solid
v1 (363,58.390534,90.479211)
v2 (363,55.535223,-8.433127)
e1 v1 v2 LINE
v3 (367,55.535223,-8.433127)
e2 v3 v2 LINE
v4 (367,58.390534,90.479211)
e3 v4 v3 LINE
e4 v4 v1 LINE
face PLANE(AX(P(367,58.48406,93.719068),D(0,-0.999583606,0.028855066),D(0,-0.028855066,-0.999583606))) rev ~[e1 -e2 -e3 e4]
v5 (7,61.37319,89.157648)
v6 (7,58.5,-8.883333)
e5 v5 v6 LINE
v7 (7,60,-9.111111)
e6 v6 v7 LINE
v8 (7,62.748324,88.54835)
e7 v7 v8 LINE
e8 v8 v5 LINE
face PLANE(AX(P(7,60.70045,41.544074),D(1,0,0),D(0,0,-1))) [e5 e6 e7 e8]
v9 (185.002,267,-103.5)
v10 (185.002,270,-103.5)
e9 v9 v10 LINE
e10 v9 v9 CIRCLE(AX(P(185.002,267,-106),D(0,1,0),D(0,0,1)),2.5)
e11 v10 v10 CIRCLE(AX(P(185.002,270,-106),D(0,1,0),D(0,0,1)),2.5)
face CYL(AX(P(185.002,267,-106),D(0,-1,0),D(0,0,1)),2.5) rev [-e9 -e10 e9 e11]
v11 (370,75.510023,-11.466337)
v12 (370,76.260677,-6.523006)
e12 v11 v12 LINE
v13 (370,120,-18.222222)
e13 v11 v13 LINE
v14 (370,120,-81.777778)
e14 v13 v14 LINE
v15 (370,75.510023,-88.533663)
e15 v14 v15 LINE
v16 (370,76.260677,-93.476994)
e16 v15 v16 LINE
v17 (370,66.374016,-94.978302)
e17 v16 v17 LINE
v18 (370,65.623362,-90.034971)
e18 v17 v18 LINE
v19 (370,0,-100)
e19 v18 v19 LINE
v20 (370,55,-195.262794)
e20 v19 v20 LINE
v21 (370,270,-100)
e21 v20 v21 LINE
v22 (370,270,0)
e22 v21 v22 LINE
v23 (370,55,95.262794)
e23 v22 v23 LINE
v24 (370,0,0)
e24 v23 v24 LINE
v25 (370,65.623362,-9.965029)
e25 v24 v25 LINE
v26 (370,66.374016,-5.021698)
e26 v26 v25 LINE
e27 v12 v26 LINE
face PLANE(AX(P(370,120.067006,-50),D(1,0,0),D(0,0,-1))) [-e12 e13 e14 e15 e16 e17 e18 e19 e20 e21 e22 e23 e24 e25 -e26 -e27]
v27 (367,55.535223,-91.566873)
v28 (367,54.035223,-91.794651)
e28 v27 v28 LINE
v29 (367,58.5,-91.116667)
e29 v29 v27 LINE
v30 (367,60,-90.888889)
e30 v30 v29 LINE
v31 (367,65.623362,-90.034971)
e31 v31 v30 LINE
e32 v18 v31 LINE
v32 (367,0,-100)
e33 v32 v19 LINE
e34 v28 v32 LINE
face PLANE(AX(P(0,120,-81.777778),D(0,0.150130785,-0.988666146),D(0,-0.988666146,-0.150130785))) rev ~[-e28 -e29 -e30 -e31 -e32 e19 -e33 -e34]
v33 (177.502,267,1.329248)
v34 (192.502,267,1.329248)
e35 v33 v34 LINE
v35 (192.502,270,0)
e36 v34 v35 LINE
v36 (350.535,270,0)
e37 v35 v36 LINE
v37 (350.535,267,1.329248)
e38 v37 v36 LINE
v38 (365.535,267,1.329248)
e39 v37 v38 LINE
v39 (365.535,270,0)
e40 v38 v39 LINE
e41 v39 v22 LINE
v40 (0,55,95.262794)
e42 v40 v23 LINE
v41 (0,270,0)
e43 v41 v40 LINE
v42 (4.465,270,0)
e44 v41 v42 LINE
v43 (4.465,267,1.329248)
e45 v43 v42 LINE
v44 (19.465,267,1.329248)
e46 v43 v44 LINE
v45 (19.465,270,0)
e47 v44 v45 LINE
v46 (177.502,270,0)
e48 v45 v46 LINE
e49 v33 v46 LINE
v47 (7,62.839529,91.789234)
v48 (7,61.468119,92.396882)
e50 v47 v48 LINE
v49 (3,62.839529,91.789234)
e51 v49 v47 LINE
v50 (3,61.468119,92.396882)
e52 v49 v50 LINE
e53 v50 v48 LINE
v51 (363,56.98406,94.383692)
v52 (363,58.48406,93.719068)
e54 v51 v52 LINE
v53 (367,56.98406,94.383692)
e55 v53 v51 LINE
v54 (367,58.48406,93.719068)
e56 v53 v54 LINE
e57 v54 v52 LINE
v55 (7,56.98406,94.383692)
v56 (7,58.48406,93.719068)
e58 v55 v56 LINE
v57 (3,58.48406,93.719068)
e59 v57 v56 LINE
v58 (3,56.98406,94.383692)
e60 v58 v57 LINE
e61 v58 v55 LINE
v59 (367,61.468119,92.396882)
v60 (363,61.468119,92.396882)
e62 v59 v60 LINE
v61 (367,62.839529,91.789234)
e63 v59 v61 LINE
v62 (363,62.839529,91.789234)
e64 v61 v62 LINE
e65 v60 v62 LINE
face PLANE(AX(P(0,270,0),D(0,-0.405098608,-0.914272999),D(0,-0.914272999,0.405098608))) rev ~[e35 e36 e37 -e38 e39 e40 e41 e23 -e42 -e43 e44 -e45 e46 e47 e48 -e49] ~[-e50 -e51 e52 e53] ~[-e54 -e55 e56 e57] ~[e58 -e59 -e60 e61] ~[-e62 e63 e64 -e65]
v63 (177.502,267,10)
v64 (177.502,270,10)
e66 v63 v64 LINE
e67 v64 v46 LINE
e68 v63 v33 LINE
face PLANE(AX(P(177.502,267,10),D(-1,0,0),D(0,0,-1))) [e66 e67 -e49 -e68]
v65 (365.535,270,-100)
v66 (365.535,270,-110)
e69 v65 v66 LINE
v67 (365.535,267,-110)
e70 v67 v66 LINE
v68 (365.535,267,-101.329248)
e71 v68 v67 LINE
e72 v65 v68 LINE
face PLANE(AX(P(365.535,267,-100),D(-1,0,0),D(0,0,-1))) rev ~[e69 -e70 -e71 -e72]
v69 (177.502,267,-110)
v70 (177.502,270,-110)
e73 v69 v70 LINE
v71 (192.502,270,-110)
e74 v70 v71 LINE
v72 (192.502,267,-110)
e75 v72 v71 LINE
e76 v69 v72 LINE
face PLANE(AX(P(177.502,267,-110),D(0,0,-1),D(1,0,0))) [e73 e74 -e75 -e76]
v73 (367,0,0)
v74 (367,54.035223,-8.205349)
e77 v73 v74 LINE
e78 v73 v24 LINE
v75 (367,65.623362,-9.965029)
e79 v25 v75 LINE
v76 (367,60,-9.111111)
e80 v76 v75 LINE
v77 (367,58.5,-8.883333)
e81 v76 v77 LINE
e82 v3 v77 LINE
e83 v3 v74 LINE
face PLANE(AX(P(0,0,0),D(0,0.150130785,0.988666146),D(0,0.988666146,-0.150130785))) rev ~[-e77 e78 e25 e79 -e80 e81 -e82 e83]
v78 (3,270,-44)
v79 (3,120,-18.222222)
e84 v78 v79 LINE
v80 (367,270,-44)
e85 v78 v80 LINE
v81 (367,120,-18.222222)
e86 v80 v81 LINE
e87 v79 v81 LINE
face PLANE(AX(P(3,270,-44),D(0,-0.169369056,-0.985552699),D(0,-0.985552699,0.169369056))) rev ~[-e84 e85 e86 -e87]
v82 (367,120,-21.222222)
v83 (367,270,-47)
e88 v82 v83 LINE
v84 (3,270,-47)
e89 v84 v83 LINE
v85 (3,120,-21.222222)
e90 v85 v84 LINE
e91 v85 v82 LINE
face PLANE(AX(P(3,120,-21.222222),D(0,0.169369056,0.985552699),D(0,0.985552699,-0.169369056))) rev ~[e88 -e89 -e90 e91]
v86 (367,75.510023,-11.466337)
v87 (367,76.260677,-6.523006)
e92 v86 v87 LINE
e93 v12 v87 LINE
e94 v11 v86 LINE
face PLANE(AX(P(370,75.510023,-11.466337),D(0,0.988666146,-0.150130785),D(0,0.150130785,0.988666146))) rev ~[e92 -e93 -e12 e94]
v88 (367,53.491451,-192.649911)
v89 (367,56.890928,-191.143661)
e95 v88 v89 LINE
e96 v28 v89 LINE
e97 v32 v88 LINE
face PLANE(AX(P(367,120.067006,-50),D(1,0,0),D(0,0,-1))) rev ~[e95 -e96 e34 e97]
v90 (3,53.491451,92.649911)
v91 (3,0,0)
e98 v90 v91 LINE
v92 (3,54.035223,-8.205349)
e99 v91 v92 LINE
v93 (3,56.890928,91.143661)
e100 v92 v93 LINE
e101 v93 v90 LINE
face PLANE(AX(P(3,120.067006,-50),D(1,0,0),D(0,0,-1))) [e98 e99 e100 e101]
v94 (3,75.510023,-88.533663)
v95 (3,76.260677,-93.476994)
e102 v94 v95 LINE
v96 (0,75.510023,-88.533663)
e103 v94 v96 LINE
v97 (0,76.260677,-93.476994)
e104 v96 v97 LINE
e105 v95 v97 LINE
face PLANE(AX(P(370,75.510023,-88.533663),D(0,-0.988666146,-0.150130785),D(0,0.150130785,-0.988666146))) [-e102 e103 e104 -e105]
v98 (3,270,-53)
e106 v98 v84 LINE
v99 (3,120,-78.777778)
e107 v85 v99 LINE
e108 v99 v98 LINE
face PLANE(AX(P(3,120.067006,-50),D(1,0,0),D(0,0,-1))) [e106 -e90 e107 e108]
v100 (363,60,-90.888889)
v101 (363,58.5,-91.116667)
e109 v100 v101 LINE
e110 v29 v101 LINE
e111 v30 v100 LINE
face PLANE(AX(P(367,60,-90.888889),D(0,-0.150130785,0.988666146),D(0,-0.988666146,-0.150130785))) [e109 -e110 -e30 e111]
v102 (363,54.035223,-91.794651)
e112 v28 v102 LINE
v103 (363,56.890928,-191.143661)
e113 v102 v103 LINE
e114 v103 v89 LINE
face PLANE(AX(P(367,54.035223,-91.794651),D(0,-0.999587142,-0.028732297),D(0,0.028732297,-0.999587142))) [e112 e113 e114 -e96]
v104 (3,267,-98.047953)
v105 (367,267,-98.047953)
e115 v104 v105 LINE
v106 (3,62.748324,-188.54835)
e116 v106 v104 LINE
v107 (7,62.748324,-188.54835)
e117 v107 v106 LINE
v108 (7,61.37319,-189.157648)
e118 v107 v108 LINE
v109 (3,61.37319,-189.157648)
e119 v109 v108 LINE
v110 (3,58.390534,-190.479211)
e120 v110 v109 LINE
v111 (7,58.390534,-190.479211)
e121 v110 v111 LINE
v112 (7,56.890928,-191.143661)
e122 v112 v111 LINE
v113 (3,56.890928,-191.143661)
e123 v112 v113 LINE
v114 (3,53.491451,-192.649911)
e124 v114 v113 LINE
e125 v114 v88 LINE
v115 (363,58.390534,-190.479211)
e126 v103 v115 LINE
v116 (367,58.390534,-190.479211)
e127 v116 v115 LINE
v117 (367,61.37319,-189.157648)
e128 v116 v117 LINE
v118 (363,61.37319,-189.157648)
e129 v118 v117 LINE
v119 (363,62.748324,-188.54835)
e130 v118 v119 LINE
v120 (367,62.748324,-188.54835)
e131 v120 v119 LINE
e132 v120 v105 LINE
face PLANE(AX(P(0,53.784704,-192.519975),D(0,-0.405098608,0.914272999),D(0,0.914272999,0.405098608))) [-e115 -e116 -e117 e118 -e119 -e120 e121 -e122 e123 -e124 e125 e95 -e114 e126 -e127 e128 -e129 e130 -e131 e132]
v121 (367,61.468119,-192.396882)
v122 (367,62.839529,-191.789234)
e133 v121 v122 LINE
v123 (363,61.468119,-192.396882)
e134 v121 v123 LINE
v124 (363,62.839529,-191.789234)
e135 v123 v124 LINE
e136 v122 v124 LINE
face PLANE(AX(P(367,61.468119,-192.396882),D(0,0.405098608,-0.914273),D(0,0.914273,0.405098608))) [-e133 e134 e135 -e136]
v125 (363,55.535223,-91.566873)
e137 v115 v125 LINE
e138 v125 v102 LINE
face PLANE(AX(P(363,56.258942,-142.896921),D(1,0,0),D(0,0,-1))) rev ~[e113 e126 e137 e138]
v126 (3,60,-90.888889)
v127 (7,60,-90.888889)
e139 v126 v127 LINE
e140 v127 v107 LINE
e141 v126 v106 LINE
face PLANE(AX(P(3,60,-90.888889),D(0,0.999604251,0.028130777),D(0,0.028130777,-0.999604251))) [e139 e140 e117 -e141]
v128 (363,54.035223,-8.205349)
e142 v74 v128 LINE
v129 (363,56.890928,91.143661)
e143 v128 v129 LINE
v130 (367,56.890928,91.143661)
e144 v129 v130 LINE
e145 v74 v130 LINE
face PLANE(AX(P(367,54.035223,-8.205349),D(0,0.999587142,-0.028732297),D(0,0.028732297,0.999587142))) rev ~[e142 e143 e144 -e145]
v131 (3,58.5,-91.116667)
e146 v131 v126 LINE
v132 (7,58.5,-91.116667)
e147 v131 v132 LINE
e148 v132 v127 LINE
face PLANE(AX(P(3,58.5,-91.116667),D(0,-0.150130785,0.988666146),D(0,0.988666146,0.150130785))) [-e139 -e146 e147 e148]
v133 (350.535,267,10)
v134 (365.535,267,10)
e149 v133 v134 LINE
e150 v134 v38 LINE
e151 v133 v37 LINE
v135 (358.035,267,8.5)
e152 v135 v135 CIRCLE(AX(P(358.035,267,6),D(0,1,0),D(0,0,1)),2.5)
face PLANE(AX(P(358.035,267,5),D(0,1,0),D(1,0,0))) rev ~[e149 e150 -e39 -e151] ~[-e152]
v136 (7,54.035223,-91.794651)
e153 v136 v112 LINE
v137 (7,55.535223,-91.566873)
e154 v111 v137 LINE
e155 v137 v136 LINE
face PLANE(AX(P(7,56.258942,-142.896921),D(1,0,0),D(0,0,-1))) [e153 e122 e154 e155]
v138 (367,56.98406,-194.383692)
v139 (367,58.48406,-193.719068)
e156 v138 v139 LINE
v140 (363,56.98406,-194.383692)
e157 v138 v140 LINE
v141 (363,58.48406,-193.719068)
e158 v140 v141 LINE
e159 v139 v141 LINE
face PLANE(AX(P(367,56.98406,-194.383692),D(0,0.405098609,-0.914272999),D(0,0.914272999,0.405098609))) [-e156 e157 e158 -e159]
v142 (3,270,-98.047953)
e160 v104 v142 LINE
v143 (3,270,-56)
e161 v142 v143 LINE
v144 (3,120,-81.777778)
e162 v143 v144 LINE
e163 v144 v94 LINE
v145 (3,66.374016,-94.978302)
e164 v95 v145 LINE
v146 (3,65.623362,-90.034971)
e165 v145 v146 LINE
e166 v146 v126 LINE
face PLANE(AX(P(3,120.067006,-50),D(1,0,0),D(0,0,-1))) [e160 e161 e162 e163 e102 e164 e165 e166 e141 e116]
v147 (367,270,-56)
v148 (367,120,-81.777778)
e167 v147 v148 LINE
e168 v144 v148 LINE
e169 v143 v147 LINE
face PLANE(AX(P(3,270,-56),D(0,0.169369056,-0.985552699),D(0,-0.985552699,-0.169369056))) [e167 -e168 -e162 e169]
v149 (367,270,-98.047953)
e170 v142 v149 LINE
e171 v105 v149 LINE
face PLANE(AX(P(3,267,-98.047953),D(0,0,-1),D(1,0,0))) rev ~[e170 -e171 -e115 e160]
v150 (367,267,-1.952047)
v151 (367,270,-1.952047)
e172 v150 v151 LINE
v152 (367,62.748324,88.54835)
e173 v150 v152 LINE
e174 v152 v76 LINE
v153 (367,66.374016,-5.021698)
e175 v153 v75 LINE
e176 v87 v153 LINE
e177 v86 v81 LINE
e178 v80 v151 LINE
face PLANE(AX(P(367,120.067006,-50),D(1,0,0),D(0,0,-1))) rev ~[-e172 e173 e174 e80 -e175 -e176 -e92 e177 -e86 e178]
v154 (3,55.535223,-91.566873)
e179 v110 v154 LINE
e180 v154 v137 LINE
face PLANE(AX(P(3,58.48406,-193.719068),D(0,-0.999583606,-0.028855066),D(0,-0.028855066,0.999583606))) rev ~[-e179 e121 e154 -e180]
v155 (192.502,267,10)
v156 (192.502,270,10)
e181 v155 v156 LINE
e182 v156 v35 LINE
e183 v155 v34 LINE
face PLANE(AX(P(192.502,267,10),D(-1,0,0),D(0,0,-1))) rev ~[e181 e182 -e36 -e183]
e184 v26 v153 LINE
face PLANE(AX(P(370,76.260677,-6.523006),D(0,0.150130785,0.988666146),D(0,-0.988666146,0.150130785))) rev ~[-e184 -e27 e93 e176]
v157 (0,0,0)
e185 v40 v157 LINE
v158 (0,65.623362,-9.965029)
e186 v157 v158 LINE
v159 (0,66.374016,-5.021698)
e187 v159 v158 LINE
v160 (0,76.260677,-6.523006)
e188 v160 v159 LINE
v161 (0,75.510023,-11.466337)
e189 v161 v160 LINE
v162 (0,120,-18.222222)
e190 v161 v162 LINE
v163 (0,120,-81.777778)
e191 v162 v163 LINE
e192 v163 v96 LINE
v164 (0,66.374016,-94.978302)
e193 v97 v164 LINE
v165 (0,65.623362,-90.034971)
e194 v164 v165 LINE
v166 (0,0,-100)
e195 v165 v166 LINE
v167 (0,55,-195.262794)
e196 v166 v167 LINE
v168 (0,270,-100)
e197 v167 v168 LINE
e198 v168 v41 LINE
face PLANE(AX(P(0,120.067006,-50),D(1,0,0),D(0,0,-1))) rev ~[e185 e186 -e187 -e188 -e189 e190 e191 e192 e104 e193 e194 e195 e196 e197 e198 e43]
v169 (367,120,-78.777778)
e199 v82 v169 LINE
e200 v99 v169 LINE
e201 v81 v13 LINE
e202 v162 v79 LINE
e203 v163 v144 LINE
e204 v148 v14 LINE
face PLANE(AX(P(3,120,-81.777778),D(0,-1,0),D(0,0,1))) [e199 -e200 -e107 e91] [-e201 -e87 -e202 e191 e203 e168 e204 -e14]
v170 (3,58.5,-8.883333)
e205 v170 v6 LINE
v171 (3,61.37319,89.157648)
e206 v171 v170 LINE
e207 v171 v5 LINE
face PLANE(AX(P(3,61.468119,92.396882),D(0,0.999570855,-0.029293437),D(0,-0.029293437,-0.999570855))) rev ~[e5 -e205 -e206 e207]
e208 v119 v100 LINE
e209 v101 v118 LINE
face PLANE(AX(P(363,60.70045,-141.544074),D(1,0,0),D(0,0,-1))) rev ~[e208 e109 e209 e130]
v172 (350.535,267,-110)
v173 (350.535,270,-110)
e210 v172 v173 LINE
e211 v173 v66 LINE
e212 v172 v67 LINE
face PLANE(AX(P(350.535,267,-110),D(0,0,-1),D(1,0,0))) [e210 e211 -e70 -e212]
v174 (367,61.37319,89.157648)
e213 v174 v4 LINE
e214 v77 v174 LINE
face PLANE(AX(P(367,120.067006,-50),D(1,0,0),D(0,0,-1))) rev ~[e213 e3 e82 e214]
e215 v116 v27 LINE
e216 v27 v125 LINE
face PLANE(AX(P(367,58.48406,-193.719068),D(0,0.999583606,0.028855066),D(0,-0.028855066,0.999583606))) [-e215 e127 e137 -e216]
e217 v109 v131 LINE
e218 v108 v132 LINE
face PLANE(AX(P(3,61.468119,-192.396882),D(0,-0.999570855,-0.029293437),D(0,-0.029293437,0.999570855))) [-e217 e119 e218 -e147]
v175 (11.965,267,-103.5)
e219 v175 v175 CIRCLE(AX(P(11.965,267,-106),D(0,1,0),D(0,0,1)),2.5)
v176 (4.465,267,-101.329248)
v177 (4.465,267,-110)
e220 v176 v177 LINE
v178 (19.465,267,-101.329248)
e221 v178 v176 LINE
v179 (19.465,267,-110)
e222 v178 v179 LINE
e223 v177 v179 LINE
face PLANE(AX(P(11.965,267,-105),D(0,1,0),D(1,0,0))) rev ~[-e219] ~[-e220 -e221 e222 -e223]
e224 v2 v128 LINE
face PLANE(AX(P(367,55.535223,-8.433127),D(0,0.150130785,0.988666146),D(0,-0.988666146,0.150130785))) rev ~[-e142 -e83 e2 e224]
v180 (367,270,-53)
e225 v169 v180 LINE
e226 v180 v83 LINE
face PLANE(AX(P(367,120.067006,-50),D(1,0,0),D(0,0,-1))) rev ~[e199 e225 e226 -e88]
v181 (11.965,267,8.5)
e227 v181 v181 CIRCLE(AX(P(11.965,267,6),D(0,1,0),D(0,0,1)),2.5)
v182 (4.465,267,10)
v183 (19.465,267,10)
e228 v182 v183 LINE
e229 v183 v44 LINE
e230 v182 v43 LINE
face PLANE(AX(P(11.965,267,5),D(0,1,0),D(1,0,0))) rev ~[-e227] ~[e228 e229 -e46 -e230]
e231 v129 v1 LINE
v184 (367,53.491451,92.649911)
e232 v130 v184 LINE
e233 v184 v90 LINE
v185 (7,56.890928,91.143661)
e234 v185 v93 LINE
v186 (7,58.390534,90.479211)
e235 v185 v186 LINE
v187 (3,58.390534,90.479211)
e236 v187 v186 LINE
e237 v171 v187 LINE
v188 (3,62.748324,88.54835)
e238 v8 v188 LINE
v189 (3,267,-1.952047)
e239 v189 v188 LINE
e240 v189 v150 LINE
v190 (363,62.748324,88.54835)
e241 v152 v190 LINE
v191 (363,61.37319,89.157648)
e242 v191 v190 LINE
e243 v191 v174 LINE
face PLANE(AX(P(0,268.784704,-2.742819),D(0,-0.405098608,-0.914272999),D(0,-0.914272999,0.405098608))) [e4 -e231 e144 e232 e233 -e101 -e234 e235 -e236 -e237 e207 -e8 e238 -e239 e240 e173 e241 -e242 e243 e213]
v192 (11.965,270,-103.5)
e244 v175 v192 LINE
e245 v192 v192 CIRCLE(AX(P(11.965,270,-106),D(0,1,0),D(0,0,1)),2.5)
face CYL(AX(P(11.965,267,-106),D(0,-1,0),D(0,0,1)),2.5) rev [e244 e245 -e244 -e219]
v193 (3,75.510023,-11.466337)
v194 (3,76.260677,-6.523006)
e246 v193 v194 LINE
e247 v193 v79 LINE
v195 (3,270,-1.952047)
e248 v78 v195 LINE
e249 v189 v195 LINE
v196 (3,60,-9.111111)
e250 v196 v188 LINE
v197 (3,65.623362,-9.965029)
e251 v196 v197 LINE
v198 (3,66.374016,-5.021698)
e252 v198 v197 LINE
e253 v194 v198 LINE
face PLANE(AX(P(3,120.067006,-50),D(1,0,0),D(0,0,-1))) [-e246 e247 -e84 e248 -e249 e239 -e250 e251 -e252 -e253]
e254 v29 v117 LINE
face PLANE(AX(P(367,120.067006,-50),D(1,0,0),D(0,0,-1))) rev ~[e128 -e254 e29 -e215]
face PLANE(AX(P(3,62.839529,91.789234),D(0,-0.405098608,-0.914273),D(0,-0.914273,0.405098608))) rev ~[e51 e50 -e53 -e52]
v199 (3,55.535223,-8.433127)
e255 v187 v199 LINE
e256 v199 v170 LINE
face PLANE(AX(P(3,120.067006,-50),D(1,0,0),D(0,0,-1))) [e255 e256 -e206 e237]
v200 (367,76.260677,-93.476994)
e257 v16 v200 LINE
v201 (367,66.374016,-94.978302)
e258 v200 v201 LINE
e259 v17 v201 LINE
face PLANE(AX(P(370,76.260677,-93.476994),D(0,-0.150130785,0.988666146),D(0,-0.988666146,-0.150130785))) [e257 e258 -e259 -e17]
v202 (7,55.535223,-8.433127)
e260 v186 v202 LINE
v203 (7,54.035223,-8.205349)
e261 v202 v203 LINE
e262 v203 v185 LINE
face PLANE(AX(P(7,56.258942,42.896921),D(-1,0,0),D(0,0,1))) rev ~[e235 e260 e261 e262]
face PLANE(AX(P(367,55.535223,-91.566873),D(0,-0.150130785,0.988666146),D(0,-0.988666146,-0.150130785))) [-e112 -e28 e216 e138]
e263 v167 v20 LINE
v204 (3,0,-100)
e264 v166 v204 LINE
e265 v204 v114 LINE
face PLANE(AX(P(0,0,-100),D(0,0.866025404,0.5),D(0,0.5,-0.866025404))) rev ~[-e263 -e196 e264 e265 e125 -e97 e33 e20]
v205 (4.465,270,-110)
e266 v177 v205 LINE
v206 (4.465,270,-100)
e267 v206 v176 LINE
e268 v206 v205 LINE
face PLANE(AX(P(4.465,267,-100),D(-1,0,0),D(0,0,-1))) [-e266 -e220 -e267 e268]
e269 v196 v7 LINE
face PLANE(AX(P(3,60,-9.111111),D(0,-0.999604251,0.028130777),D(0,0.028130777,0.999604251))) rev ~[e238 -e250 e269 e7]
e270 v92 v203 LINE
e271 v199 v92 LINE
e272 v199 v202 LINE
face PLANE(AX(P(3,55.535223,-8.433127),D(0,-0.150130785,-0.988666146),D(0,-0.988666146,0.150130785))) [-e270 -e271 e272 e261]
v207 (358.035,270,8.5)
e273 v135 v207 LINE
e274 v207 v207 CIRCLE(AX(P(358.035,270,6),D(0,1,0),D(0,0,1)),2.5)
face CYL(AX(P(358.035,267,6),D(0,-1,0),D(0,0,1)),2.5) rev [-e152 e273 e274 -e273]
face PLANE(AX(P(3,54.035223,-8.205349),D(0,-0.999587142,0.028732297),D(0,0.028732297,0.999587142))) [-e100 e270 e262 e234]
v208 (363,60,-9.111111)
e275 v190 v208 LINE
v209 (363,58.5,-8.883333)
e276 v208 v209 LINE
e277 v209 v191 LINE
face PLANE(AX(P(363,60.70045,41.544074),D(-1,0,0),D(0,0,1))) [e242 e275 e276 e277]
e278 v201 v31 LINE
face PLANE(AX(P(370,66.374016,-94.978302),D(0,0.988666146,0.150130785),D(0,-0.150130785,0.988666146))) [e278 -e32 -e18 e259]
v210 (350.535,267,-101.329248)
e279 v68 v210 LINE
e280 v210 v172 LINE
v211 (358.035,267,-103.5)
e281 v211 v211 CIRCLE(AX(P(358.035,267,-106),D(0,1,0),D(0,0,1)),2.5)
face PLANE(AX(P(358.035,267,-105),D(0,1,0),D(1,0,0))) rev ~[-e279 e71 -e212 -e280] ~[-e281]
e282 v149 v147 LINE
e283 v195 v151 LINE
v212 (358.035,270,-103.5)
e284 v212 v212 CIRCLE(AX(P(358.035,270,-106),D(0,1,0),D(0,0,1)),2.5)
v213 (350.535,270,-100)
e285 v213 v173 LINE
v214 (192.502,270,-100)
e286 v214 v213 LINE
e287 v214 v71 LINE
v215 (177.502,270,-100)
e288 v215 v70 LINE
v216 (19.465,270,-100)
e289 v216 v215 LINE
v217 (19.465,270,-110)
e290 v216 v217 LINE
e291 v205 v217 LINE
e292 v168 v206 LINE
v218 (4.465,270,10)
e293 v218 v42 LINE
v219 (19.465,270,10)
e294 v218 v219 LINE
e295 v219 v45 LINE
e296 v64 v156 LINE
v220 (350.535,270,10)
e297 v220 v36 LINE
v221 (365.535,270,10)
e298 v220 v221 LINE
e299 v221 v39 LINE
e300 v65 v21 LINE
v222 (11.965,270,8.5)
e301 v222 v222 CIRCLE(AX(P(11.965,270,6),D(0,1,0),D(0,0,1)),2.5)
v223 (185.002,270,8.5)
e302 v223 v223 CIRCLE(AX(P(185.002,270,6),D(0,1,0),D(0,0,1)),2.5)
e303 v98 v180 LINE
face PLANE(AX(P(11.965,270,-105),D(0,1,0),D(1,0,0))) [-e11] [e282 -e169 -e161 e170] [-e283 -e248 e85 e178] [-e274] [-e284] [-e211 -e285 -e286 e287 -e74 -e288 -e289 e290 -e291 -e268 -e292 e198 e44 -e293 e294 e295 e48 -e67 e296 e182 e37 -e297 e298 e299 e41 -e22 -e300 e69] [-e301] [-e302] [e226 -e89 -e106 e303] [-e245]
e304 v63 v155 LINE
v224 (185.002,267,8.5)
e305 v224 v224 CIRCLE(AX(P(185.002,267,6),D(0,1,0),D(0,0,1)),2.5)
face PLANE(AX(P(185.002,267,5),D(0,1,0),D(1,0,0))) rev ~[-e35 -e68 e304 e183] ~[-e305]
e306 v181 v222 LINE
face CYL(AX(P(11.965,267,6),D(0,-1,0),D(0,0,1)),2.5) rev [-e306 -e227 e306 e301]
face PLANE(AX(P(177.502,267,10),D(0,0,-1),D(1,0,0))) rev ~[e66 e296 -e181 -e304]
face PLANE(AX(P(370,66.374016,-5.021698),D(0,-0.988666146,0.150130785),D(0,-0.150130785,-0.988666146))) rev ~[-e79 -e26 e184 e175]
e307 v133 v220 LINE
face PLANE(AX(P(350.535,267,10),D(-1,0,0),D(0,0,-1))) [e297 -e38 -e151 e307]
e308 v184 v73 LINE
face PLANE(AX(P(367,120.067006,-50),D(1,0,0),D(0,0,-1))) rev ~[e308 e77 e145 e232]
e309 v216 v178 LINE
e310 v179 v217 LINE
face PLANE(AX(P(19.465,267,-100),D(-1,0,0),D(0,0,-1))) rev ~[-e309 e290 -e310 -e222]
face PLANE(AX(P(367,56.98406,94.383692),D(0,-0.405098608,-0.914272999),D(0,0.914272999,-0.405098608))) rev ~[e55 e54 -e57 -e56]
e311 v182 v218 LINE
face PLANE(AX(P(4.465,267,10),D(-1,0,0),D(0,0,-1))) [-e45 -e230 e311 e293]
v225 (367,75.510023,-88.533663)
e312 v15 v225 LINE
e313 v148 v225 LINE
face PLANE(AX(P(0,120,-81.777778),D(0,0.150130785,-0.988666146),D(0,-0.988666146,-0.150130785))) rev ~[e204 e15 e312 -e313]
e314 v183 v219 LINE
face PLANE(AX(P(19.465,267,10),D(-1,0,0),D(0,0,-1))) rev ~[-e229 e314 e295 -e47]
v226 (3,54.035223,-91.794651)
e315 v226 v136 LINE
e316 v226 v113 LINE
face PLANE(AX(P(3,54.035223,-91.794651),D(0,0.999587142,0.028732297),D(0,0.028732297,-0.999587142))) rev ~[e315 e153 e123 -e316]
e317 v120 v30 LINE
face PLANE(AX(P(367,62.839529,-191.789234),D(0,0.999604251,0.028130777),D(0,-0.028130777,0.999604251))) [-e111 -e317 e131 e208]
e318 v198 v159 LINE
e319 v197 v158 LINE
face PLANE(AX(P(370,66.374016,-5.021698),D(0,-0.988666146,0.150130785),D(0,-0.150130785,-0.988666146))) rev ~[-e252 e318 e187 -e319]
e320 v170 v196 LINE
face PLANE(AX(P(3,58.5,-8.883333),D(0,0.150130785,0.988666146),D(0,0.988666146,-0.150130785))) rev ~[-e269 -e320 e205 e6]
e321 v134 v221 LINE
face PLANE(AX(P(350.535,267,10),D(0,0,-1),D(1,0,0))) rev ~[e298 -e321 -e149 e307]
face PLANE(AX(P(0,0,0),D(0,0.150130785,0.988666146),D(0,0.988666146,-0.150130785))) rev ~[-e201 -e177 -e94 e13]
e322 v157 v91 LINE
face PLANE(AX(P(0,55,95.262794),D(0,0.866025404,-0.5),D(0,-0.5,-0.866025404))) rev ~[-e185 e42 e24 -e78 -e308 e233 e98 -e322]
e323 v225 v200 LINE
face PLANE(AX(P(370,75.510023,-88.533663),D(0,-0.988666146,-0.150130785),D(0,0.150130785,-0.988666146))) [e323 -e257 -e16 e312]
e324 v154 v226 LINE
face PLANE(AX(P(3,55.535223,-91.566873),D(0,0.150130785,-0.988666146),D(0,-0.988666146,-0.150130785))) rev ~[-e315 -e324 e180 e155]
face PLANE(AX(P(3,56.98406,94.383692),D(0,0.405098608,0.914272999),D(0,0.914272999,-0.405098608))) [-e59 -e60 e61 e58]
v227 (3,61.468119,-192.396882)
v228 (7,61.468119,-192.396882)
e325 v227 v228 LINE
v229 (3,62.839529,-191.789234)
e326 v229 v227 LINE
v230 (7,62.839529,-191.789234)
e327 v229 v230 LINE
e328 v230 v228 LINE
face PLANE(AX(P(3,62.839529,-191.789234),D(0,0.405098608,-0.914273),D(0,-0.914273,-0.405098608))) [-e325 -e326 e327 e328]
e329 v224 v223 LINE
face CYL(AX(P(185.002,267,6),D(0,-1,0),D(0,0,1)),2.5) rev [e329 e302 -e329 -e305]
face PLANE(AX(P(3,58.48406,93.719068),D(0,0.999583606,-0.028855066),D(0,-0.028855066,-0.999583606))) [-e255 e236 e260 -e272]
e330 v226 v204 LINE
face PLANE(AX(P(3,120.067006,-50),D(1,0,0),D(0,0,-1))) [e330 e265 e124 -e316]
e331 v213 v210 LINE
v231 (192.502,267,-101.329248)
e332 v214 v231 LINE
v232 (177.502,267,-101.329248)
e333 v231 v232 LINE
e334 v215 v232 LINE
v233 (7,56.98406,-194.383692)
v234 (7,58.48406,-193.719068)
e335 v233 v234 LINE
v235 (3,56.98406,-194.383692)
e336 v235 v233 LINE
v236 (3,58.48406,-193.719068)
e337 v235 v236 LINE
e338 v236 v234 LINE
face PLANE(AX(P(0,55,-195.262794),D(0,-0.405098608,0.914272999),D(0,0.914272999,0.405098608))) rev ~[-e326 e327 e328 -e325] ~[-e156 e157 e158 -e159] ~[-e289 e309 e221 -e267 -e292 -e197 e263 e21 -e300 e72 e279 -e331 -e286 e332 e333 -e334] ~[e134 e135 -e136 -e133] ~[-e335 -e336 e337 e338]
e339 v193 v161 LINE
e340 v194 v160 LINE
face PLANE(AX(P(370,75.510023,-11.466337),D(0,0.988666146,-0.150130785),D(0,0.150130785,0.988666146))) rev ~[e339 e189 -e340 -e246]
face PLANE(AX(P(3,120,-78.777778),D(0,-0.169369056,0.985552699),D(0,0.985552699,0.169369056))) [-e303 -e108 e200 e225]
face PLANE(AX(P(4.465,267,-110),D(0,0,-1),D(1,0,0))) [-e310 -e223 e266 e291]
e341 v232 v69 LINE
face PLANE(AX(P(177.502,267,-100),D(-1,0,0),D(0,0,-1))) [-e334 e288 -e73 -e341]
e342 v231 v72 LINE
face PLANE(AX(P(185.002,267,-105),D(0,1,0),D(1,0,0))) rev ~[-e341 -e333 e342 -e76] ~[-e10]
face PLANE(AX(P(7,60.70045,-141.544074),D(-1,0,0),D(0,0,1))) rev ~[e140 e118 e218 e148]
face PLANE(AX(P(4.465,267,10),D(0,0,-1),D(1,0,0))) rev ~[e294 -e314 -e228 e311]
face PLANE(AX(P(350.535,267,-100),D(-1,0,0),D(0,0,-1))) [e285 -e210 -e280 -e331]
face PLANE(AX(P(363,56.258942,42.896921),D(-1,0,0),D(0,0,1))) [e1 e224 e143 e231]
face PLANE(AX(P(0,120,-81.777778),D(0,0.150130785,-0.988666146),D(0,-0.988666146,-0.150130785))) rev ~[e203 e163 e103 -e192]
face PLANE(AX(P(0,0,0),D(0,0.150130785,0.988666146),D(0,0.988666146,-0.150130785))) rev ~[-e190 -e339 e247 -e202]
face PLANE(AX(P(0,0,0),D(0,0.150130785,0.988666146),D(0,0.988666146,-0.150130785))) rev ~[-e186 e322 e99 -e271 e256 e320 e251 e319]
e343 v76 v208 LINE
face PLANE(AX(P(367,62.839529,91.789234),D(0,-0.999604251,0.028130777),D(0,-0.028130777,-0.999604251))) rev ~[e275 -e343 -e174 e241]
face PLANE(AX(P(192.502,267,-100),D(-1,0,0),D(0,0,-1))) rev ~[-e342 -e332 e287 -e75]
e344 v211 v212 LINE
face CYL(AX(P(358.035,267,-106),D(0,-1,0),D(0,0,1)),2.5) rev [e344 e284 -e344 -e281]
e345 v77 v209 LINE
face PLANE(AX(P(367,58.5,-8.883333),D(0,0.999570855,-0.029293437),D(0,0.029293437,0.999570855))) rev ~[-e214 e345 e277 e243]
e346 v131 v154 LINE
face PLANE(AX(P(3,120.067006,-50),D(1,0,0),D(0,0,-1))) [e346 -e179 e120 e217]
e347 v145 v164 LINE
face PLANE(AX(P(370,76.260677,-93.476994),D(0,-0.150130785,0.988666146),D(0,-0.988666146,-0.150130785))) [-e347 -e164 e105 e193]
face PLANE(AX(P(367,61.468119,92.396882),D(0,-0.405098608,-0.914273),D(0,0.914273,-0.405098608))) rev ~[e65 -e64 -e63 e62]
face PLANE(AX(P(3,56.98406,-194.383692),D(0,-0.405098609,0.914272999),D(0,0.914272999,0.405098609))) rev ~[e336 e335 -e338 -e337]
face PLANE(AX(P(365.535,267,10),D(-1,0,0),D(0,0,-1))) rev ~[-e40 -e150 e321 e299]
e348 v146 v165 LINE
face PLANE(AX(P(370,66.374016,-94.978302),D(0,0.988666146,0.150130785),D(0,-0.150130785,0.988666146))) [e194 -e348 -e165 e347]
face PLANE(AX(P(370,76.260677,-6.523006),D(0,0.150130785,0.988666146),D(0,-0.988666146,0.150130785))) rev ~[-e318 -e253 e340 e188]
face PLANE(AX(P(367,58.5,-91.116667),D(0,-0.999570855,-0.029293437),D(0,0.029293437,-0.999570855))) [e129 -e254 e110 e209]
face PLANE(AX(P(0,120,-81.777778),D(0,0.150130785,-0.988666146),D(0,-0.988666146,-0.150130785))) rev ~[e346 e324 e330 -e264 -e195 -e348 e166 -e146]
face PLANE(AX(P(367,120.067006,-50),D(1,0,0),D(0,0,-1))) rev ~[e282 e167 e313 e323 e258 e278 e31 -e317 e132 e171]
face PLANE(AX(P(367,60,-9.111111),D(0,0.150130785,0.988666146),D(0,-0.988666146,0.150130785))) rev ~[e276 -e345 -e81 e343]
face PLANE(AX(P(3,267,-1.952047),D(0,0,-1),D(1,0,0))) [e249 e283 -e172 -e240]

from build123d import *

# Parameters (mm, degrees)
BOSS_EXTRUDE1_DEPTH = 370
SHELL1_T            = -3
SKETCH4_W           = 364
SKETCH4_H           = 96.095905324
CUT_EXTRUDE2_DEPTH  = 497.302890263
BOSS_EXTRUDE2_REACH = 497.698
SKETCH9_W           = 15
SKETCH9_H           = 10
SKETCH9_R           = 2.5
BOSS_EXTRUDE4_DEPTH = 3
BOSS_EXTRUDE5_DEPTH = 4
BOSS_EXTRUDE6_DEPTH = 4
CUT_EXTRUDE3_DEPTH  = 498.923245976


with BuildPart() as part:
    # Sketch2 → Boss-Extrude1 (new body)
    with BuildSketch(Plane(origin=(0, 0, 0), x_dir=(0, 0, -1), z_dir=(1, 0, 0))):
        Polygon((100, 0), (195.262794416, 55), (100, 270), (0, 270), (-95.262794416, 55), (0, 0), (18.222222222, 120), (81.777777778, 120), align=None)
    extrude(amount=BOSS_EXTRUDE1_DEPTH)

    # Shell1
    shell1_openings = [part.faces().sort_by_distance(p)[0] for p in [
        (185, 27.5, 47.631397208),
        (185, 27.5, -147.631397208),
        (185, 60, -90.888888889),
        (185, 120, -50),
        (185, 60, -9.111111111),
    ]]
    offset(amount=SHELL1_T, openings=shell1_openings, kind=Kind.INTERSECTION)

    # Sketch4 → Cut-Extrude2 (cut, through all)
    with BuildSketch(Plane.XZ.offset(-267)):
        with Locations((185, -50)):
            Rectangle(SKETCH4_W, SKETCH4_H)
    extrude(amount=-CUT_EXTRUDE2_DEPTH, mode=Mode.SUBTRACT)

    # Sketch5 → Boss-Extrude2 (add, up to next)
    with BuildSketch(Plane(origin=(3, 0, 0), x_dir=(0, 0, -1), z_dir=(1, 0, 0)), mode=Mode.PRIVATE) as boss_extrude2_sk1:
        Polygon((47, 270), (44, 270), (18.222222222, 120), (21.222222222, 120), align=None)
    boss_extrude2_tool1 = extrude(boss_extrude2_sk1.sketch, amount=BOSS_EXTRUDE2_REACH, mode=Mode.PRIVATE) - part.part
    # Sketch5 → Boss-Extrude2 (add, up to next)
    with BuildSketch(Plane(origin=(3, 0, 0), x_dir=(0, 0, -1), z_dir=(1, 0, 0)), mode=Mode.PRIVATE) as boss_extrude2_sk2:
        Polygon((53, 270), (56, 270), (81.777777778, 120), (78.777777778, 120), align=None)
    boss_extrude2_tool2 = extrude(boss_extrude2_sk2.sketch, amount=BOSS_EXTRUDE2_REACH, mode=Mode.PRIVATE) - part.part
    add(boss_extrude2_tool1.solids().sort_by_distance((3, 195, -32.611111))[0])
    add(boss_extrude2_tool2.solids().sort_by_distance((3, 195, -67.388889))[0])

    # Sketch9 → Boss-Extrude4 (add)
    # profile 1 of 6: a face of its own
    with BuildSketch(Plane(origin=(0, 267, 0), x_dir=(1, 0, 0), z_dir=(0, 1, 0))):
        with Locations((11.965, 105)):
            Rectangle(SKETCH9_W, SKETCH9_H)
        with Locations(Location((11.965, 106, 0), (0, 0, 270))):
            Circle(SKETCH9_R, mode=Mode.SUBTRACT)
    # profile 2 of 6: a face of its own
    with BuildSketch(Plane(origin=(0, 267, 0), x_dir=(1, 0, 0), z_dir=(0, 1, 0))):
        with Locations((185.002, 105)):
            Rectangle(SKETCH9_W, SKETCH9_H)
        with Locations(Location((185.002, 106, 0), (0, 0, 270))):
            Circle(SKETCH9_R, mode=Mode.SUBTRACT)
    # profile 3 of 6: a face of its own
    with BuildSketch(Plane(origin=(0, 267, 0), x_dir=(1, 0, 0), z_dir=(0, 1, 0))):
        with Locations((358.035, 105)):
            Rectangle(SKETCH9_W, SKETCH9_H)
        with Locations(Location((358.035, 106, 0), (0, 0, 270))):
            Circle(SKETCH9_R, mode=Mode.SUBTRACT)
    # profile 4 of 6: a face of its own
    with BuildSketch(Plane(origin=(0, 267, 0), x_dir=(1, 0, 0), z_dir=(0, 1, 0))):
        with Locations((358.035, -5)):
            Rectangle(SKETCH9_W, SKETCH9_H)
        with Locations(Location((358.035, -6, 0), (0, 0, 270))):
            Circle(SKETCH9_R, mode=Mode.SUBTRACT)
    # profile 5 of 6: a face of its own
    with BuildSketch(Plane(origin=(0, 267, 0), x_dir=(1, 0, 0), z_dir=(0, 1, 0))):
        with Locations((185.002, -5)):
            Rectangle(SKETCH9_W, SKETCH9_H)
        with Locations(Location((185.002, -6, 0), (0, 0, 270))):
            Circle(SKETCH9_R, mode=Mode.SUBTRACT)
    # profile 6 of 6: a face of its own
    with BuildSketch(Plane(origin=(0, 267, 0), x_dir=(1, 0, 0), z_dir=(0, 1, 0))):
        with Locations((11.965, -5)):
            Rectangle(SKETCH9_W, SKETCH9_H)
        with Locations(Location((11.965, -6, 0), (0, 0, 270))):
            Circle(SKETCH9_R, mode=Mode.SUBTRACT)
    extrude(amount=BOSS_EXTRUDE4_DEPTH)

    # Sketch11 → Boss-Extrude5 (add)
    with BuildSketch(Plane.ZY.offset(-367)):
        Polygon((-9.111111111, 60), (-8.883333333, 58.5), (92.396882217, 61.468119339), (91.789234305, 62.839528838), align=None)
        Polygon((94.383691773, 56.984059669), (93.719067626, 58.484059669), (-8.433126527, 55.535223468), (-8.205348749, 54.035223468), align=None)
        Polygon((-191.789234305, 62.839528838), (-90.888888889, 60), (-91.116666667, 58.5), (-192.396882217, 61.468119339), align=None)
        Polygon((-194.383691773, 56.984059669), (-193.719067625, 58.484059669), (-91.566873473, 55.535223468), (-91.794651251, 54.035223468), align=None)
    extrude(amount=BOSS_EXTRUDE5_DEPTH)

    # Sketch10 → Boss-Extrude6 (add)
    with BuildSketch(Plane(origin=(3, 0, 0), x_dir=(0, 0, -1), z_dir=(1, 0, 0))):
        Polygon((9.111111111, 60), (-91.789234305, 62.839528838), (-92.396882217, 61.468119339), (8.883333333, 58.5), align=None)
        Polygon((-93.719067626, 58.484059669), (8.433126527, 55.535223468), (8.205348749, 54.035223468), (-94.383691773, 56.984059669), align=None)
        Polygon((194.383691773, 56.984059669), (193.719067625, 58.484059669), (91.566873473, 55.535223468), (91.794651251, 54.035223468), align=None)
        Polygon((192.396882217, 61.468119339), (91.116666667, 58.5), (90.888888889, 60), (191.789234305, 62.839528838), align=None)
    extrude(amount=BOSS_EXTRUDE6_DEPTH)

    # Sketch12 → Cut-Extrude3 (cut, through all)
    with BuildSketch(Plane(origin=(370, 0, 0), x_dir=(0, 0, -1), z_dir=(1, 0, 0))):
        Polygon((11.466336894, 75.51002345), (6.523006166, 76.260677375), (5.021698316, 66.37401592), (9.965029044, 65.623361994), (10.715682969, 70.566692722), align=None)
        Polygon((89.284317031, 70.566692722), (88.533663106, 75.51002345), (93.476993834, 76.260677375), (94.978301684, 66.37401592), (90.034970956, 65.623361994), align=None)
    extrude(amount=-CUT_EXTRUDE3_DEPTH, mode=Mode.SUBTRACT)


solid = part.part
